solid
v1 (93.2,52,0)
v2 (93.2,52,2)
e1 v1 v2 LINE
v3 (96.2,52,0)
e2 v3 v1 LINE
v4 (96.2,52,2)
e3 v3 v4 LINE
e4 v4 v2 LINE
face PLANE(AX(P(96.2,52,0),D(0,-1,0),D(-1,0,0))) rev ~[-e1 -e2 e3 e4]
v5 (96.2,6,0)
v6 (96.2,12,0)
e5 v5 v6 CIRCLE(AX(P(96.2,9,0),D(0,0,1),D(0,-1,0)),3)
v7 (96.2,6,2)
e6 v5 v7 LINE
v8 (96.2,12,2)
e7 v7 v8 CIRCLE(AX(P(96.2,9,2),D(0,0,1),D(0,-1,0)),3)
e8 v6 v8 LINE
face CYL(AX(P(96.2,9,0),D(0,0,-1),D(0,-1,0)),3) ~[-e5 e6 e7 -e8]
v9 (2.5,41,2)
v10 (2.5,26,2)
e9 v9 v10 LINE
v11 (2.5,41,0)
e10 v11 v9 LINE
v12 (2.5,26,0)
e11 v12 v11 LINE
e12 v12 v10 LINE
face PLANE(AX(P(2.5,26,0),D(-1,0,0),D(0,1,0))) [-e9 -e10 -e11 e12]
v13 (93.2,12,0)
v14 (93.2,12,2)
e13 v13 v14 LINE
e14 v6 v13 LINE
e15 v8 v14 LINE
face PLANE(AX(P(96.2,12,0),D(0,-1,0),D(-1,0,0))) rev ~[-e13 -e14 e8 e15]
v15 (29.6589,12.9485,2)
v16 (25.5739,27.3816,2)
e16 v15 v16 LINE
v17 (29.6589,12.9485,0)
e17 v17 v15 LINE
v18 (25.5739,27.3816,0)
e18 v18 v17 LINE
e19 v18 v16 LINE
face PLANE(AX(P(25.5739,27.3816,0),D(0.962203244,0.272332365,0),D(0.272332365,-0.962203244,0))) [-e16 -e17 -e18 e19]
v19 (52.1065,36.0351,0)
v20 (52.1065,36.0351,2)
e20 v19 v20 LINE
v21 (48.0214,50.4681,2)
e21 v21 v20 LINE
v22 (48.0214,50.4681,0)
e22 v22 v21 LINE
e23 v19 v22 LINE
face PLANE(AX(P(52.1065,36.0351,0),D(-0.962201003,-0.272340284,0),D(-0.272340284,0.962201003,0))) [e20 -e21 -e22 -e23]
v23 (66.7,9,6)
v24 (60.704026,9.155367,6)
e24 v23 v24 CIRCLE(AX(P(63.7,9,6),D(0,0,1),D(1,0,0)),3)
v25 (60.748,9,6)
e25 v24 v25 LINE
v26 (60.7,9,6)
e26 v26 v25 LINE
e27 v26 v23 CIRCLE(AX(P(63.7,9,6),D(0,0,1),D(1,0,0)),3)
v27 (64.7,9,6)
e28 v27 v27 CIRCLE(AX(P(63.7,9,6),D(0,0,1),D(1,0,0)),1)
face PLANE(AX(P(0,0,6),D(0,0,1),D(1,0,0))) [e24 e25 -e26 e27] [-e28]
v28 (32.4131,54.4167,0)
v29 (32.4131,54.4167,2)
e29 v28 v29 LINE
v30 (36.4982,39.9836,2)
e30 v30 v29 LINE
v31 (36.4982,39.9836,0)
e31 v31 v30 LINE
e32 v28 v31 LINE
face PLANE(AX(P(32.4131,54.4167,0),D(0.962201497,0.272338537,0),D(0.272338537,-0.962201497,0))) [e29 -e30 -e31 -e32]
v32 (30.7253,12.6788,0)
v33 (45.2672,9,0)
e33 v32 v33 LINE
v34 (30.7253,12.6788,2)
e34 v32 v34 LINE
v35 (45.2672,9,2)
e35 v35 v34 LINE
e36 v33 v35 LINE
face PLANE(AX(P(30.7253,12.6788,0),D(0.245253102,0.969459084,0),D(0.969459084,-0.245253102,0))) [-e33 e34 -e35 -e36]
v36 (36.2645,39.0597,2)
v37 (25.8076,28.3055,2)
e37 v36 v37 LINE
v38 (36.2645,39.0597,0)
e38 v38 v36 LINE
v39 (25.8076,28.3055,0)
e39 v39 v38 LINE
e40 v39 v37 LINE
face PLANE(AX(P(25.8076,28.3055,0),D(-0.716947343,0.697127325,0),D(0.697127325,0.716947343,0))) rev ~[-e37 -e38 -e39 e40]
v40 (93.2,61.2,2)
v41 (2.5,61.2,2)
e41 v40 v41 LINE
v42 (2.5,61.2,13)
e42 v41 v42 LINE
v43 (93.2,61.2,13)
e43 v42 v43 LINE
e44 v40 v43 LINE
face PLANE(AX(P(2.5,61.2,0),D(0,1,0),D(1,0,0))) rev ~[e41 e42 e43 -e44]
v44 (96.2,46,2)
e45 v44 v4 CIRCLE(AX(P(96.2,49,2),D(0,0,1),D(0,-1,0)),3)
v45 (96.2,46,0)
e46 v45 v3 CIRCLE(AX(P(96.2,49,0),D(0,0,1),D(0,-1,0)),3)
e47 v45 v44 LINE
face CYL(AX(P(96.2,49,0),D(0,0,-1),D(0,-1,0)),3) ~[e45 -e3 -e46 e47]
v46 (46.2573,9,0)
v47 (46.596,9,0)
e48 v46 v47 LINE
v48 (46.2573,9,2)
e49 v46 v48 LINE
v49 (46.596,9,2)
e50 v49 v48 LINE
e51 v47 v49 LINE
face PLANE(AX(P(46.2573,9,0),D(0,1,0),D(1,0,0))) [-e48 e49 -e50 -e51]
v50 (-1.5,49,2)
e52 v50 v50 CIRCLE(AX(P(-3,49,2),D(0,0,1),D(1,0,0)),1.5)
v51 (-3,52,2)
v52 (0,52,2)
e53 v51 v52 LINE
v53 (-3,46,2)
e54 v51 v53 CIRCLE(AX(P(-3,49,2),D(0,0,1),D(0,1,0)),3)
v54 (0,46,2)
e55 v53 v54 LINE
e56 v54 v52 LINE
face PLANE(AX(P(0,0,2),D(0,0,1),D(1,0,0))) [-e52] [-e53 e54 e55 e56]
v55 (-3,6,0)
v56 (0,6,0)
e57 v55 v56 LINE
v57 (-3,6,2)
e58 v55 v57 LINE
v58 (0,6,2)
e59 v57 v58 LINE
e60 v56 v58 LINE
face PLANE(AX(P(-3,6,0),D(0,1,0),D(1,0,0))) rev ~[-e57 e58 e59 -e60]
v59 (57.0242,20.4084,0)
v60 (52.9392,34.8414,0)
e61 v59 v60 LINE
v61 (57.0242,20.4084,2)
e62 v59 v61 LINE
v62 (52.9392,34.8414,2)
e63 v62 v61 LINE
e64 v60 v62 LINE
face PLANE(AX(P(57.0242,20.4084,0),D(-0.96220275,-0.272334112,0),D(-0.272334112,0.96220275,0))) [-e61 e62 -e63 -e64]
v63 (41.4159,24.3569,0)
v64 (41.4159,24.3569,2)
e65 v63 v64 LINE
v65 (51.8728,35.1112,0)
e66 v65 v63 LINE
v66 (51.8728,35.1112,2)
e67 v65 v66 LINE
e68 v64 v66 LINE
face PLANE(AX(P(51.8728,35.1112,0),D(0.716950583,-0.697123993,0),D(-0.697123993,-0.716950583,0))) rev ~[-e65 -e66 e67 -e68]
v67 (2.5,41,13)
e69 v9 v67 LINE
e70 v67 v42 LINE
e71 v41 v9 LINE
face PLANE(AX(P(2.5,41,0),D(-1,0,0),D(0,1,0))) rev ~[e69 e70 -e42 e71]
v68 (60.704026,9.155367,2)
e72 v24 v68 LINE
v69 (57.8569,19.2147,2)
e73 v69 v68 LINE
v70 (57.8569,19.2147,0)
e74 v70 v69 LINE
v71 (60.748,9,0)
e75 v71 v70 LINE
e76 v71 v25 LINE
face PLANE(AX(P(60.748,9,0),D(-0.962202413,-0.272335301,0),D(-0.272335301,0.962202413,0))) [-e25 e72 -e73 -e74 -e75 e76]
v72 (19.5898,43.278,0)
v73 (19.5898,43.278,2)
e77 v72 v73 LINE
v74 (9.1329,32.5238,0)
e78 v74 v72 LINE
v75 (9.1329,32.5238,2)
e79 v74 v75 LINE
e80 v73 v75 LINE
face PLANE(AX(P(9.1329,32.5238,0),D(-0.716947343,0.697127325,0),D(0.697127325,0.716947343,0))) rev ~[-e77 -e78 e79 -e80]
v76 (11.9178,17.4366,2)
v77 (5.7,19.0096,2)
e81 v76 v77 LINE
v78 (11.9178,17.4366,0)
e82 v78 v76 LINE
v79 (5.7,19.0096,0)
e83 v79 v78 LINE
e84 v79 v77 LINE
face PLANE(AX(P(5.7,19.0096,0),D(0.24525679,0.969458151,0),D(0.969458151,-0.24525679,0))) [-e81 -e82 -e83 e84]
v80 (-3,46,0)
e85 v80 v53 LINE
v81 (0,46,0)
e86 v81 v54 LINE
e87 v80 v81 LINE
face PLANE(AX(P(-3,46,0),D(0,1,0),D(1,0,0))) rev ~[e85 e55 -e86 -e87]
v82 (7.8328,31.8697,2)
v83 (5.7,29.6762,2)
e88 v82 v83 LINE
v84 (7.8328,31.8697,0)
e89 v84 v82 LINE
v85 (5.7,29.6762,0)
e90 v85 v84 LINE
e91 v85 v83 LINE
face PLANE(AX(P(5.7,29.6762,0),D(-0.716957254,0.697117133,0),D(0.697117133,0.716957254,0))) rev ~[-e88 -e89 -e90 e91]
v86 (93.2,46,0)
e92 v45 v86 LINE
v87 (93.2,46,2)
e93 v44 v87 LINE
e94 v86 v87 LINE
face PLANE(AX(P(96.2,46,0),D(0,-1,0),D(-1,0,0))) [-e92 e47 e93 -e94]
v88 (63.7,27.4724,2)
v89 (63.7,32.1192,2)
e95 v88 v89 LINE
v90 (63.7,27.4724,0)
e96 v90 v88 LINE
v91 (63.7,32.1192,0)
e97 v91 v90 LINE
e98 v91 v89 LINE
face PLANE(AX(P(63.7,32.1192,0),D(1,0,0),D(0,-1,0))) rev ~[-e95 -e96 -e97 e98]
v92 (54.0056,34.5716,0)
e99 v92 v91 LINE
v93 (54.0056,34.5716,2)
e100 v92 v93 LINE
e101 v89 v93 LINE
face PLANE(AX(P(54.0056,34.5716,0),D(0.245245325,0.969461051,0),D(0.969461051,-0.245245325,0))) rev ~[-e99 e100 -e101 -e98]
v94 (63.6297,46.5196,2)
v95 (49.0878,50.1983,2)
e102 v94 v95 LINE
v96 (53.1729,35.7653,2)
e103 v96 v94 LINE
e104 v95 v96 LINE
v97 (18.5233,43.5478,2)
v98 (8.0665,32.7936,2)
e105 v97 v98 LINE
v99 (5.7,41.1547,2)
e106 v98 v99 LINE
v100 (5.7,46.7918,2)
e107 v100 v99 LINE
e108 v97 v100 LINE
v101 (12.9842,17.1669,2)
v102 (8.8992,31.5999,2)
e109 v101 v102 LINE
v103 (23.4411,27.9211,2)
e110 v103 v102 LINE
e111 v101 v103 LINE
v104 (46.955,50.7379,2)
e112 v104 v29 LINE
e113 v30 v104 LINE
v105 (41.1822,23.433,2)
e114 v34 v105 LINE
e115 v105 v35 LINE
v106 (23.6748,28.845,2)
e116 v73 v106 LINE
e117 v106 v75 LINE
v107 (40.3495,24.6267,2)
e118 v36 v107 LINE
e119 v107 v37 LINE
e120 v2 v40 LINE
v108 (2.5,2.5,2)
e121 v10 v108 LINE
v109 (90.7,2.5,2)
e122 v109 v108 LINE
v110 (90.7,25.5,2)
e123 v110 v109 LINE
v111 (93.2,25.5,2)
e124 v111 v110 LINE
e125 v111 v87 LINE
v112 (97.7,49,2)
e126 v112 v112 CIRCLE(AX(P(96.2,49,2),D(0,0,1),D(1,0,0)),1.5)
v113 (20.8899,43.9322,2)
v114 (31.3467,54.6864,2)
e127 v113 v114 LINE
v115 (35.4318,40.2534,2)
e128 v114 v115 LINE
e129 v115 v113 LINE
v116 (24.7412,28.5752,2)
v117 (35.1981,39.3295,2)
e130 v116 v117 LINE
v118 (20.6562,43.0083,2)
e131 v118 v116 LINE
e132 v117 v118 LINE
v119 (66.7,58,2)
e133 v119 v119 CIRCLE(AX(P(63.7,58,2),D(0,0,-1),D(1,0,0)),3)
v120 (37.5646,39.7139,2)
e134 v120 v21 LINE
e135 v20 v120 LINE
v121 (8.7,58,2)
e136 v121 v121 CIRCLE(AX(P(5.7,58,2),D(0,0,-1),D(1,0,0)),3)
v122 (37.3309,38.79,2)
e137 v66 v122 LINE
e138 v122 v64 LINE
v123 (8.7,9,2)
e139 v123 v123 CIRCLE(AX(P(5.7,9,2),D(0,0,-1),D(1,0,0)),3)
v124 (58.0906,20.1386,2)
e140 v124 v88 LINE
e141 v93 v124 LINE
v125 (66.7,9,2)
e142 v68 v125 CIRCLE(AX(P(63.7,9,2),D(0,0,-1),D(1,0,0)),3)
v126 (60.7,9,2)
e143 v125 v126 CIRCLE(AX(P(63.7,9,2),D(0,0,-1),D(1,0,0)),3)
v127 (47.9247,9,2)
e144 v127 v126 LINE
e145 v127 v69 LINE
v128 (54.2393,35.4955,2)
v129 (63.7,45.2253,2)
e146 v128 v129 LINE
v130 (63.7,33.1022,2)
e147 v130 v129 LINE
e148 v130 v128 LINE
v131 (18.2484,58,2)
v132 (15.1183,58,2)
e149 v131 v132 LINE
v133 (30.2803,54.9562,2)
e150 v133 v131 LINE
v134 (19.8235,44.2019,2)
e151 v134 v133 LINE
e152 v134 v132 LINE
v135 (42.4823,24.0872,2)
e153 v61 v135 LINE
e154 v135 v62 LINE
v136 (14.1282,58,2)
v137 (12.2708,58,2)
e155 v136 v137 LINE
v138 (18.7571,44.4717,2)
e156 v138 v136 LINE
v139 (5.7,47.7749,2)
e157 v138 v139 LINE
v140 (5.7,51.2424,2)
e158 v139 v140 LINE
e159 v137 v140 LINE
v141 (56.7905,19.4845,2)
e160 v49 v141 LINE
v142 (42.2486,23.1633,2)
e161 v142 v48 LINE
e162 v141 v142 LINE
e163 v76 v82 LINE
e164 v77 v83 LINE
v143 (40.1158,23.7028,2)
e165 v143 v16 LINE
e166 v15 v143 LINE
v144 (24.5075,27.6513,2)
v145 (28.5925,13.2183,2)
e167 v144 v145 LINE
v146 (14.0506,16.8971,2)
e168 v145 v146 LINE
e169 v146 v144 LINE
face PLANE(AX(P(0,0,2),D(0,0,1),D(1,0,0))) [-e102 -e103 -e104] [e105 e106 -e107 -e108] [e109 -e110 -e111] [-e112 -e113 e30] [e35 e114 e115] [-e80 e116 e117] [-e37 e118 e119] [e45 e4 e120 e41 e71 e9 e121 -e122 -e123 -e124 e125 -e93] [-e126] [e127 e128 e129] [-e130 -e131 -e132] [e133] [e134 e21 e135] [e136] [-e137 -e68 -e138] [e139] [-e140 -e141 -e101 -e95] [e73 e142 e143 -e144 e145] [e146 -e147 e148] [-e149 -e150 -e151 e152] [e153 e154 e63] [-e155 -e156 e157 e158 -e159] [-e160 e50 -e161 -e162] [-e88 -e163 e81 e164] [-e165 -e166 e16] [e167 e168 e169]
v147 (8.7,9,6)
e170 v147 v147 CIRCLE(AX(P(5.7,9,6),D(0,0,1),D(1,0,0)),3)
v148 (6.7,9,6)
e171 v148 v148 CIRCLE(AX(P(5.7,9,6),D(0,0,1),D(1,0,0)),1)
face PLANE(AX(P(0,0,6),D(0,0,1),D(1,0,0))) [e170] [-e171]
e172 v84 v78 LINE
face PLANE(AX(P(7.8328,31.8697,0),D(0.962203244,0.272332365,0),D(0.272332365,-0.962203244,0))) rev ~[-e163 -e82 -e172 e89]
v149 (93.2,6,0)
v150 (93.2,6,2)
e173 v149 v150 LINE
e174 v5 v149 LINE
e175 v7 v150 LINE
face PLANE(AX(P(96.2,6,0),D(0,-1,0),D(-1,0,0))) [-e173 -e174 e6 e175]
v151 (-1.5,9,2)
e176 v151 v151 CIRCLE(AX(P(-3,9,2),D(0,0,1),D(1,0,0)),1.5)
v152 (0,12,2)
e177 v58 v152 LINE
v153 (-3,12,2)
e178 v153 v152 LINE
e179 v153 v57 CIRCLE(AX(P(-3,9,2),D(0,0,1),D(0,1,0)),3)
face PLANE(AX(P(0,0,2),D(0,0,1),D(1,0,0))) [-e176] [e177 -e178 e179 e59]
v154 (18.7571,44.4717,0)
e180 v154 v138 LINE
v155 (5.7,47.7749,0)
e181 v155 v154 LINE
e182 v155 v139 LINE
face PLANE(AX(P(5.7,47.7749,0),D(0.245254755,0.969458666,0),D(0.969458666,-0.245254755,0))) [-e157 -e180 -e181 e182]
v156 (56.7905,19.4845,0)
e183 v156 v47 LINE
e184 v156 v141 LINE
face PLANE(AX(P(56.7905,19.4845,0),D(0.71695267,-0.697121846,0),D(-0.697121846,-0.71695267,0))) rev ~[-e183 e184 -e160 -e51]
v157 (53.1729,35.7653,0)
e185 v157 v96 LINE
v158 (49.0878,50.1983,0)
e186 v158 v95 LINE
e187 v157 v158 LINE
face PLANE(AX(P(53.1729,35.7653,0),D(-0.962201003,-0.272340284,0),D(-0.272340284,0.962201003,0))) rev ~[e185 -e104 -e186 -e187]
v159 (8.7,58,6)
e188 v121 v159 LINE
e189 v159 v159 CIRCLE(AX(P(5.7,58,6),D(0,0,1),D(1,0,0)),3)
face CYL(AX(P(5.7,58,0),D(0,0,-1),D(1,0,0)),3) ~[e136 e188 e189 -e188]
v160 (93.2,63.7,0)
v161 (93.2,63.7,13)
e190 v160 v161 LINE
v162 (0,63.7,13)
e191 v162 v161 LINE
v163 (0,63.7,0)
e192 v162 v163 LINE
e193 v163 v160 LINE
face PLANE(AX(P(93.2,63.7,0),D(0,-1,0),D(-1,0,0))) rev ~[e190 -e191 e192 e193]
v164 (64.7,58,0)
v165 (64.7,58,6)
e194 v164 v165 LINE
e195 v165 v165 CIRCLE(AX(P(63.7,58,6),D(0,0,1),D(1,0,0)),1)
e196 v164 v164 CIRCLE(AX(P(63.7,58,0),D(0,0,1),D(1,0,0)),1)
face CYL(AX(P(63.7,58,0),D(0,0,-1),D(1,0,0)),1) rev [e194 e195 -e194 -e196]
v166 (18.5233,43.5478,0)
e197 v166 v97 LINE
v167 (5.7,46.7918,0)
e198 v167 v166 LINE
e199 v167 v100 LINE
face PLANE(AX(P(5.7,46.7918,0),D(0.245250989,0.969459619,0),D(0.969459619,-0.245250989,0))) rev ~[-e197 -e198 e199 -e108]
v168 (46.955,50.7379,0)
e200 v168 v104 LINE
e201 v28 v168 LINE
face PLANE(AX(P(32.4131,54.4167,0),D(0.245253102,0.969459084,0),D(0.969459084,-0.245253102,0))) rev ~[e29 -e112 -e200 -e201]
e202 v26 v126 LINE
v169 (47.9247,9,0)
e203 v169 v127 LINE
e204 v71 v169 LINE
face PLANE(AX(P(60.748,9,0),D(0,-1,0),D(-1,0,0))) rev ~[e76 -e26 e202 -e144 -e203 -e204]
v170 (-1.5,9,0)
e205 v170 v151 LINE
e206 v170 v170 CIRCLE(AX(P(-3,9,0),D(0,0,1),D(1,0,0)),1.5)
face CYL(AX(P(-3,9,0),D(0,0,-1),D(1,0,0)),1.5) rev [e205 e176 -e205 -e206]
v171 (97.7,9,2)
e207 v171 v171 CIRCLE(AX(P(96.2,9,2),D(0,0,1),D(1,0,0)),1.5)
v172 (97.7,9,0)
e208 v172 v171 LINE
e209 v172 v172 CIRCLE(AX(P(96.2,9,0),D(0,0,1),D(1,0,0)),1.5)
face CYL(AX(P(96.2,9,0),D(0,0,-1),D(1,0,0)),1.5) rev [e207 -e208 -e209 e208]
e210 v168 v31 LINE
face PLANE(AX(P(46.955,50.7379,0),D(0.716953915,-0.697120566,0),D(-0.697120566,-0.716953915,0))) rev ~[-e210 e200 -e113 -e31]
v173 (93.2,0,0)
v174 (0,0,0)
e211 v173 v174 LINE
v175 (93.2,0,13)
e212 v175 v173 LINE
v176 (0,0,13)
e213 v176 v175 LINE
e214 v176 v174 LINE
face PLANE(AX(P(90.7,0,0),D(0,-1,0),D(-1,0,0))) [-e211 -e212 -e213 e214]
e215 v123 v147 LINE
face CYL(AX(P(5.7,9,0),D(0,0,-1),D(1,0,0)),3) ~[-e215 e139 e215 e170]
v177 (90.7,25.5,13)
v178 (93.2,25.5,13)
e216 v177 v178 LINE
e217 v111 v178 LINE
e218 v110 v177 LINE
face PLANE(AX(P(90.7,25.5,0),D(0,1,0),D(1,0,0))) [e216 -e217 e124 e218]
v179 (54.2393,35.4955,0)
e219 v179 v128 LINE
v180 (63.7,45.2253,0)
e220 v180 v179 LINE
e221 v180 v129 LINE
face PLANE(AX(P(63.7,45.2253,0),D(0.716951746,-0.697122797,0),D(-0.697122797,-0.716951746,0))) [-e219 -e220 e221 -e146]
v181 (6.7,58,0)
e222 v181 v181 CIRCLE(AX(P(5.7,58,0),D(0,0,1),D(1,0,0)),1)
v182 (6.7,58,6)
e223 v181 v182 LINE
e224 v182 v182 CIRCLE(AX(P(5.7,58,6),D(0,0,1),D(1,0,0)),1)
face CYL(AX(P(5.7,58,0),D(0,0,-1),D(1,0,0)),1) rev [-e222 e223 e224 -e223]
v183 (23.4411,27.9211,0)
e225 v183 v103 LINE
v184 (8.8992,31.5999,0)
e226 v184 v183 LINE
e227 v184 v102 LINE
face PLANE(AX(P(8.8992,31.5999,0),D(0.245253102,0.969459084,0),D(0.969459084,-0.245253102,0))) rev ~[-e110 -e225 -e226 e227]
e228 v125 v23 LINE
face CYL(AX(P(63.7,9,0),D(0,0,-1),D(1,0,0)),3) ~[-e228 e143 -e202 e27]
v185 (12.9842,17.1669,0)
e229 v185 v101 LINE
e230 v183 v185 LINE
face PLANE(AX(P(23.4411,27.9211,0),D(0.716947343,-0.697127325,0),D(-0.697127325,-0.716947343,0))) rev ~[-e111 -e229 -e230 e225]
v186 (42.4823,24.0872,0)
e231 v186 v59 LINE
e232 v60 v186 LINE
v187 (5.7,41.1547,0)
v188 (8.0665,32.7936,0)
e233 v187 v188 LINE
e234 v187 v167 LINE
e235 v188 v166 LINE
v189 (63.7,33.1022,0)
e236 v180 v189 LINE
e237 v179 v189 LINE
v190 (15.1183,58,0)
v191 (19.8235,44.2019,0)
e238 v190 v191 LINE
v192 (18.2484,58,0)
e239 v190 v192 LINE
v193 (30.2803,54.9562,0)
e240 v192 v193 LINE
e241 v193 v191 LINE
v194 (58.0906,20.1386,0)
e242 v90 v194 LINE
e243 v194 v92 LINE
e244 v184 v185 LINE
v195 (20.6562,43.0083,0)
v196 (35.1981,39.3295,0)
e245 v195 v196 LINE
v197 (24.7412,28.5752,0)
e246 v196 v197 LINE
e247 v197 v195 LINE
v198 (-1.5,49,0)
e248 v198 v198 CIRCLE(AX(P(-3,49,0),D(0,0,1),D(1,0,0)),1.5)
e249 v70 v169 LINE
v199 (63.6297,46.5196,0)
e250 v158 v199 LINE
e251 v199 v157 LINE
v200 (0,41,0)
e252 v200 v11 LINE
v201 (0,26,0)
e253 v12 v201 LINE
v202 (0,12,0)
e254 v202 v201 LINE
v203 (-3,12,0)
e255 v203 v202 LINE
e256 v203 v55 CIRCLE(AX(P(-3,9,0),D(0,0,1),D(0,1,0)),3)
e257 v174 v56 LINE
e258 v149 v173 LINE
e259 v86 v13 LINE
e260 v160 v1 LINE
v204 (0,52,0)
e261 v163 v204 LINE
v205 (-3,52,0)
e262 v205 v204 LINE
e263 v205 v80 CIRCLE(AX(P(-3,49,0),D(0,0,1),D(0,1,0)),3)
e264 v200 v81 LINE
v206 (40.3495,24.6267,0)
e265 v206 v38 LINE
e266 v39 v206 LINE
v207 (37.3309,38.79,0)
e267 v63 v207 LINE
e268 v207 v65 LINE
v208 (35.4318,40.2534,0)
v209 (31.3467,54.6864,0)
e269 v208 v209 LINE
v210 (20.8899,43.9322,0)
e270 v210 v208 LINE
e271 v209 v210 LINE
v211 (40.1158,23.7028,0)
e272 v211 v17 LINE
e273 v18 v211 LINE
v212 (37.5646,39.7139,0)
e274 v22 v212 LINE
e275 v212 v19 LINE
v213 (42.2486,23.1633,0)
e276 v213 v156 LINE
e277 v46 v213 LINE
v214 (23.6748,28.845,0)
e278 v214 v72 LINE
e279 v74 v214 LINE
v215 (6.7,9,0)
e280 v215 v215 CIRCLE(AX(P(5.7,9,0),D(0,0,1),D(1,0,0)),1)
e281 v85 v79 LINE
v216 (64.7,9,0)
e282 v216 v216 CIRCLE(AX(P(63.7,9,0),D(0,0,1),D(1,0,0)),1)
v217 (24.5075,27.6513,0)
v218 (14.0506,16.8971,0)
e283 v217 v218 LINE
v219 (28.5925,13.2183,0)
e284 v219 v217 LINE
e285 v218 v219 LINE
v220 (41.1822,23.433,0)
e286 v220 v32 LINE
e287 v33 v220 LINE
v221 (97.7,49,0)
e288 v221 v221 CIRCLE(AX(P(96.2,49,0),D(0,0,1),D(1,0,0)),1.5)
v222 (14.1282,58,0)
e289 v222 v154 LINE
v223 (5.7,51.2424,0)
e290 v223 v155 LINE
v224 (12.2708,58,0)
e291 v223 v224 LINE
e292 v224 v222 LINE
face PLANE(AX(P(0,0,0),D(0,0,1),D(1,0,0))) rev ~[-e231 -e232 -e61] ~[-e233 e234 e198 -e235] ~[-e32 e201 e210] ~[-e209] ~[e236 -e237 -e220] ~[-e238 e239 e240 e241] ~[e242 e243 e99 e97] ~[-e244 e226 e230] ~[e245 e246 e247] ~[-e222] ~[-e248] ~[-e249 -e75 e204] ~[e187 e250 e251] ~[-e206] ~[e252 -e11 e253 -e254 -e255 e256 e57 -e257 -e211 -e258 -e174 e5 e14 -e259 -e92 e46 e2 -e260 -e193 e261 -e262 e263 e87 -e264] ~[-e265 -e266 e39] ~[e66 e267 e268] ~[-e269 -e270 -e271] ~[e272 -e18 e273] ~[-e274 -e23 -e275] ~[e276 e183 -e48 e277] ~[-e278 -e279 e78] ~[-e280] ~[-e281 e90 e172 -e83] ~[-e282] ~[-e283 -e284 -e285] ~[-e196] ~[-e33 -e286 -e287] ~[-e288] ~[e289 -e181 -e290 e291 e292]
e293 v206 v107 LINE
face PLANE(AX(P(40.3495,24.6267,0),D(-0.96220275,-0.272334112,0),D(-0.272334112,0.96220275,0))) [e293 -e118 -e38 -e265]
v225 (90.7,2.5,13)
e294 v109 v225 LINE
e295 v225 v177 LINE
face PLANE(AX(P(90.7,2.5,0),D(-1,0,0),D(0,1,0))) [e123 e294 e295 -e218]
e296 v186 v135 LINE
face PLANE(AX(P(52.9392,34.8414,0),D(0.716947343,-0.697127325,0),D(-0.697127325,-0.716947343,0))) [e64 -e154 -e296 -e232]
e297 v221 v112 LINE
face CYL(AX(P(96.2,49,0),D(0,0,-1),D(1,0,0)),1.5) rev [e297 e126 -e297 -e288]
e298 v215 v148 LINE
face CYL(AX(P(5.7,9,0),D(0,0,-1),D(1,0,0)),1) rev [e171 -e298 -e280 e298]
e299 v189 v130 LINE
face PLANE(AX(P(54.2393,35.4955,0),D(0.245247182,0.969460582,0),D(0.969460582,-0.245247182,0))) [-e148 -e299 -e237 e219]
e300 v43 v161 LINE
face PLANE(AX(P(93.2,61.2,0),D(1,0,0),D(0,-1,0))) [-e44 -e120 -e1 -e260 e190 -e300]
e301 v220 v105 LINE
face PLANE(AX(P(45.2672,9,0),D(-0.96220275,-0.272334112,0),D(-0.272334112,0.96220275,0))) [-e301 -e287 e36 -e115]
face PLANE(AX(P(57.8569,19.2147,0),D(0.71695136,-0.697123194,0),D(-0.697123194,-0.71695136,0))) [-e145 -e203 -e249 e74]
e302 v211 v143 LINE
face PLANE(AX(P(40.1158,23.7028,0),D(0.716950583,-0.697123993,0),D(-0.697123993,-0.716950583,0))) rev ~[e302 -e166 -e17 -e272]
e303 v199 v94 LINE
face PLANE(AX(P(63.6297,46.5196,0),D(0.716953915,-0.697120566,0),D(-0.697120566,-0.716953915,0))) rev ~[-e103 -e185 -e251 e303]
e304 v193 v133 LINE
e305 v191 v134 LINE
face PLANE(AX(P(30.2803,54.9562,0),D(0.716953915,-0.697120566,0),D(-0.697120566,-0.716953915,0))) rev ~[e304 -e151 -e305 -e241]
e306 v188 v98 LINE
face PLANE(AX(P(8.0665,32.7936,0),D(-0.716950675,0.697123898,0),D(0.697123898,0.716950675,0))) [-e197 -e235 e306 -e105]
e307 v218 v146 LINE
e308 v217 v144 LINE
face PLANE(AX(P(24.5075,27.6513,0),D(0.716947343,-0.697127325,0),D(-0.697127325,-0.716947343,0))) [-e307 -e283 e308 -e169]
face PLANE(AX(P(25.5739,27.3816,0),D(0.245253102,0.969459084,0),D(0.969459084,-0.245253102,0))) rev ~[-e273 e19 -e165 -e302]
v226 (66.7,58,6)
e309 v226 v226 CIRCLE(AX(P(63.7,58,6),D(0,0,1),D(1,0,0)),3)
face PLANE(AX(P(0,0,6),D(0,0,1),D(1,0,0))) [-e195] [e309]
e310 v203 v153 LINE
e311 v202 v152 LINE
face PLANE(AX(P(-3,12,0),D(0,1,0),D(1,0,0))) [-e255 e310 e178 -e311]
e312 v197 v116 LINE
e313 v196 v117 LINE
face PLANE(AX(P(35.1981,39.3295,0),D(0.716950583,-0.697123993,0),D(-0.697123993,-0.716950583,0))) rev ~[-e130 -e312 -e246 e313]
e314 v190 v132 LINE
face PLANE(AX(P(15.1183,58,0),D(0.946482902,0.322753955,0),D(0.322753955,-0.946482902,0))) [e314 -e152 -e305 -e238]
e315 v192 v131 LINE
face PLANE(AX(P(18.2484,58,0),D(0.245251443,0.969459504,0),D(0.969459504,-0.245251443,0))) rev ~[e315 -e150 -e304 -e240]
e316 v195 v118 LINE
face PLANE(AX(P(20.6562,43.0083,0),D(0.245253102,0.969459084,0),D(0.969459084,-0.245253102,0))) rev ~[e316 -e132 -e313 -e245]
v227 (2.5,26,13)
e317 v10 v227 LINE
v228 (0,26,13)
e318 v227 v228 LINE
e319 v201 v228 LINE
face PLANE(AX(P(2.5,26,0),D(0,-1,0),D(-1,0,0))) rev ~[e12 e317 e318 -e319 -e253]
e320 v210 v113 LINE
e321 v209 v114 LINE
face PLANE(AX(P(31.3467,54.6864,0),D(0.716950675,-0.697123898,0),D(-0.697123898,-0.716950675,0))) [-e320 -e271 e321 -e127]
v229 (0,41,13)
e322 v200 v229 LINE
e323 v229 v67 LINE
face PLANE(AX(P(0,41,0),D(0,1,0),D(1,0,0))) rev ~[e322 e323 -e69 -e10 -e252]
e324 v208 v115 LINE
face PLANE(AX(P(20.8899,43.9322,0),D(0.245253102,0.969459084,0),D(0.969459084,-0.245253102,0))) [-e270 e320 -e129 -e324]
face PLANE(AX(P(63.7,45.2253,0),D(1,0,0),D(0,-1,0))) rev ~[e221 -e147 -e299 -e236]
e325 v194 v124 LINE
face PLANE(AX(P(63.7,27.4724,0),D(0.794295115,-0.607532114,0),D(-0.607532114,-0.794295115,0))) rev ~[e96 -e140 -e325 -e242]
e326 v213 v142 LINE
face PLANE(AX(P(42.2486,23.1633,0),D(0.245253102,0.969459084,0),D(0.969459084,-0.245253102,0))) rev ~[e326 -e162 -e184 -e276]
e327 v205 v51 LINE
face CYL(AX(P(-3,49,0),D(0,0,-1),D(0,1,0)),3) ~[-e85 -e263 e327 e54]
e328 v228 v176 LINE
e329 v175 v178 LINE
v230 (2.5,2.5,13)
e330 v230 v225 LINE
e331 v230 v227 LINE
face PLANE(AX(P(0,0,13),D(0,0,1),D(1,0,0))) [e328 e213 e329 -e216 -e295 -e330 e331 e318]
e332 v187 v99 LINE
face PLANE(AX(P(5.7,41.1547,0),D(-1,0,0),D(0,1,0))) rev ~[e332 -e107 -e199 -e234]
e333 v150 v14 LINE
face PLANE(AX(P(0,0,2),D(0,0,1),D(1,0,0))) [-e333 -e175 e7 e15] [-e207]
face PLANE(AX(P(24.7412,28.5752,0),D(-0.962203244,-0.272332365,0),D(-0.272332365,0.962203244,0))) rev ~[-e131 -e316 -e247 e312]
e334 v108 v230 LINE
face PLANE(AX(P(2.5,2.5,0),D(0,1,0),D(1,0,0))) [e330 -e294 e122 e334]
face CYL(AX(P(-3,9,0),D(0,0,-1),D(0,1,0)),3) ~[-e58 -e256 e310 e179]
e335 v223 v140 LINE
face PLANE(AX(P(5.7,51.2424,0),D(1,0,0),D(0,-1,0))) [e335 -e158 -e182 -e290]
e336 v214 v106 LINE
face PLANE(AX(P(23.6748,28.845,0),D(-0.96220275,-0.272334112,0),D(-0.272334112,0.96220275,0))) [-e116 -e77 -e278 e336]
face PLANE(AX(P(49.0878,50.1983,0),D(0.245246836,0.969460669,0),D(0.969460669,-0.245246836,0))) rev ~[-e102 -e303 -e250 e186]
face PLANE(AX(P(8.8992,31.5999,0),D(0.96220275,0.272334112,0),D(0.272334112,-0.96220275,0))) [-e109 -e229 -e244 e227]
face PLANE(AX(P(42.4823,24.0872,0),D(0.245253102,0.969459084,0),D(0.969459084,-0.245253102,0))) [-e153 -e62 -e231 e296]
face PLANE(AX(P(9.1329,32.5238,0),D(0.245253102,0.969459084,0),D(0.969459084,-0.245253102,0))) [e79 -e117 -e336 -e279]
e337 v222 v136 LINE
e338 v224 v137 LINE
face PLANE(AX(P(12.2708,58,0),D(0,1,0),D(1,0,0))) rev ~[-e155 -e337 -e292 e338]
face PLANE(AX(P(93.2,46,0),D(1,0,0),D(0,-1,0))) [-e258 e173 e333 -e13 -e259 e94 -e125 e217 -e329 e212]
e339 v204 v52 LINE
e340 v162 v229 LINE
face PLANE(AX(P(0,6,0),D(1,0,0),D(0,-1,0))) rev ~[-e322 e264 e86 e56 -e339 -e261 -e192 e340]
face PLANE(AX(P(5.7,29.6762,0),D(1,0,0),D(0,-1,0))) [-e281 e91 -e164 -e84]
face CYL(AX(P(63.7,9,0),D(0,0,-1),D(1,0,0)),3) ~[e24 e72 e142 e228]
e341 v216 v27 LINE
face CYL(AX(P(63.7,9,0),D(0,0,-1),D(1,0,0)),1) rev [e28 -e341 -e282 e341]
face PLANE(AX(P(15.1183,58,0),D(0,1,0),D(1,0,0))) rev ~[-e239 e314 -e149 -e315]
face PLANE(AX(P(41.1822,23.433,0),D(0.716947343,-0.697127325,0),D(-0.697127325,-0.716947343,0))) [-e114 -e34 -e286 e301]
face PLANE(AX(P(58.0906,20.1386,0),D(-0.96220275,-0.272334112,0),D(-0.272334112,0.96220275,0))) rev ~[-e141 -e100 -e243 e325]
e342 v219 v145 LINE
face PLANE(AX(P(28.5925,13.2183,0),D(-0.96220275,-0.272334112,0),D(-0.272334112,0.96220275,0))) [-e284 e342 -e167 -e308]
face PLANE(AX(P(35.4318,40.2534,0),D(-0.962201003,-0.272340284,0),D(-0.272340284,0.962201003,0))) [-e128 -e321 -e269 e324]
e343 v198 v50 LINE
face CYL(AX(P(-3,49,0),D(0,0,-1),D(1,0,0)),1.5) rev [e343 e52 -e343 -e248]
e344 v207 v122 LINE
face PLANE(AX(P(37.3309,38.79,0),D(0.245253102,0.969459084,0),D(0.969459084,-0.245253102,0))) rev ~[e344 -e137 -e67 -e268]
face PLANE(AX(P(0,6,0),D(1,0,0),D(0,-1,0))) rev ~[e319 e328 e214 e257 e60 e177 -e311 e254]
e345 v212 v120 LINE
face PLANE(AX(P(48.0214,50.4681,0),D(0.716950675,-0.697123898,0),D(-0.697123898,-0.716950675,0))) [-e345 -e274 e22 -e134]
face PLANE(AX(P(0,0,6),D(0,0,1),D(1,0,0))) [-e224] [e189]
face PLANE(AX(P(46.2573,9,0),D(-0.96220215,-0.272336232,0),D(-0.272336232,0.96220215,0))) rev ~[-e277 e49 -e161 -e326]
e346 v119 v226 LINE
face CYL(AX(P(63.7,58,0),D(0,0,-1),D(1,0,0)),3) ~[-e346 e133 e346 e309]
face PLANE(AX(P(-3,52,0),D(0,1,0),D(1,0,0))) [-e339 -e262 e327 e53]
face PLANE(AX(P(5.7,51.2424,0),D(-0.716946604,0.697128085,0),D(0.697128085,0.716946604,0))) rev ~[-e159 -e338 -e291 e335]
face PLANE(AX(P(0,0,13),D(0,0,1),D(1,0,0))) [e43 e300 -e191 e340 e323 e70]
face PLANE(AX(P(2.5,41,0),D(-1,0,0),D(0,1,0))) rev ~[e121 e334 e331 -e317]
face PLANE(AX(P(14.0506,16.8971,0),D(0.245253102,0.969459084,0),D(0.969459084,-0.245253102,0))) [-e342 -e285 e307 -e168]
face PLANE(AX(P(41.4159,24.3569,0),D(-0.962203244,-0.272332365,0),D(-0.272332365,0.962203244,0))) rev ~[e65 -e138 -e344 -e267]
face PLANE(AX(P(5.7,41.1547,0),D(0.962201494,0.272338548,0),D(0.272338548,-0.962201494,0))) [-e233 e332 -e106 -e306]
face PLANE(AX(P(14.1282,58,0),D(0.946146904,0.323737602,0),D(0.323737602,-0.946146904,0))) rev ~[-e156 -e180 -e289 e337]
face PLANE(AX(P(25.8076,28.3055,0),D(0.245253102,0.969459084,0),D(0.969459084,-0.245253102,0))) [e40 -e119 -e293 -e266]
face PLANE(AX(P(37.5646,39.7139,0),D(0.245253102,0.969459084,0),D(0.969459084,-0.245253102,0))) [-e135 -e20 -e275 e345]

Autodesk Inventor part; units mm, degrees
ref_plane "YZ Plane" through (0, 0, 0) normal (1, 0, 0) x (0, 1, 0)
ref_plane "XZ Plane" through (0, 0, 0) normal (0, 1, 0) x (-1, 0, 0)
ref_plane "XY Plane" through (0, 0, 0) normal (0, 0, 1) x (1, 0, 0)
sketch "Sketch1" plane through (0, 0, 0) normal (0, 0, 1) x (1, 0, 0)
  circle A0 centre (5.7, 58) radius 1
  circle A1 centre (63.7, 58) radius 1
  circle A2 centre (5.7, 9) radius 1
  circle A3 centre (63.7, 9) radius 1
  line L0 (5.7, 58) -> (63.7, 58) construction
  line L1 (63.7, 58) -> (63.7, 9) construction
  line L2 (63.7, 9) -> (5.7, 9) construction
  line L3 (5.7, 9) -> (5.7, 58) construction
  circle A4 centre (5.7, 58) radius 3
  circle A5 centre (63.7, 58) radius 3
  circle A6 centre (63.7, 9) radius 3
  circle A7 centre (5.7, 9) radius 3
  line L4 (2.5, 61.2) -> (93.2, 61.2)
  line L5 (93.2, 61.2) -> (93.2, 0)
  line L6 (2.5, 61.2) -> (93.2, 61.2)
  line L7 (93.2, 61.2) -> (93.2, 63.7)
  line L8 (93.2, 63.7) -> (2.5, 63.7)
  line L9 (2.5, 63.7) -> (2.5, 61.2)
  line L10 (2.5, 63.7) -> (0, 63.7)
  line L11 (0, 63.7) -> (0, 0)
  line L12 (2.5, 2.5) -> (2.5, 63.7)
  line L13 (0, 41) -> (2.5, 41)
  line L14 (2.5, 41) -> (2.5, 26)
  line L15 (2.5, 26) -> (0, 26)
  line L16 (0, 26) -> (0, 41)
  line L17 (5.7, 33.5) -> (0, 33.5) construction
  line L18 (2.5, 2.5) -> (90.7, 2.5)
  line L19 (93.2, -3.283) -> (93.2, 0)
  line L20 (93.2, 0) -> (0, 0)
  line L21 (2.5, 2.5) -> (2.5, 61.2)
  line L22 (93.2, 0) -> (62.7076, 0)
  line L23 (90.7, 2.5) -> (90.7, 25.5)
  line L24 (90.7, 25.5) -> (93.2, 25.5)
  line L25 (93.2, 25.5) -> (93.2, 0)
  line L26 (0, 49) -> (-3, 49) construction
  circle A8 centre (-3, 49) radius 1.5
  arc A9 (-3, 52) -> (-3, 46) centre (-3, 49) ccw
  line L27 (-3, 52) -> (-3, 46) construction
  line L28 (-3, 52) -> (0, 52)
  line L29 (-3, 46) -> (0, 46)
  line L30 (93.2, 49) -> (96.2, 49) construction
  circle A10 centre (96.2, 49) radius 1.5
  arc A11 (96.2, 46) -> (96.2, 52) centre (96.2, 49) ccw
  line L31 (96.2, 52) -> (96.2, 46) construction
  line L32 (96.2, 52) -> (93.2, 52)
  line L33 (96.2, 46) -> (93.2, 46)
  line L34 (0, 9) -> (-3, 9) construction
  circle A12 centre (-3, 9) radius 1.5
  arc A13 (-3, 12) -> (-3, 6) centre (-3, 9) ccw
  line L35 (-3, 12) -> (-3, 6) construction
  line L36 (-3, 12) -> (0, 12)
  line L37 (-3, 6) -> (0, 6)
  line L38 (93.2, 9) -> (96.2, 9) construction
  circle A14 centre (96.2, 9) radius 1.5
  arc A15 (96.2, 6) -> (96.2, 12) centre (96.2, 9) ccw
  line L39 (96.2, 6) -> (96.2, 12) construction
  line L40 (96.2, 12) -> (93.2, 12)
  line L41 (96.2, 6) -> (93.2, 6)
  line L42 (0, 41) -> (2.5, 41)
  line L43 (2.5, 41) -> (2.5, 63.7)
  line L44 (2.5, 63.7) -> (0, 63.7)
  line L45 (0, 63.7) -> (0, 41)
  line L46 (93.2, 0) -> (0, 0)
  line L47 (0, 0) -> (0, 2.5)
  line L48 (0, 2.5) -> (93.2, 2.5)
  line L49 (93.2, 2.5) -> (93.2, 0)
  line L50 (0, 0) -> (2.5, 0)
  line L51 (2.5, 0) -> (2.5, 26)
  line L52 (2.5, 26) -> (0, 26)
  line L53 (0, 26) -> (0, 0)
  line L54 (93.2, 25.5) -> (90.7, 25.5)
  line L55 (90.7, 25.5) -> (90.7, 0)
  line L56 (90.7, 0) -> (93.2, 0)
  line L57 (93.2, 0) -> (93.2, 25.5)
  line L58 (0, 41) -> (2.5, 41)
  line L59 (2.5, 41) -> (2.5, 63.7)
  line L60 (2.5, 63.7) -> (0, 63.7)
  line L61 (0, 63.7) -> (0, 41)
  line L62 (2.5, 41) -> (0, 41)
  line L63 (0, 41) -> (0, 26)
  line L64 (0, 26) -> (2.5, 26)
  line L65 (2.5, 26) -> (2.5, 41)
  dimension "d0" = 2
  dimension "d1" = 2
  dimension "d2" = 58
  dimension "d3" = 2
  dimension "d4" = 2
  dimension "d5" = 49
  dimension "d6" = 6
  dimension "d7" = 6
  dimension "d8" = 6
  dimension "d9" = 6
  dimension "d10" = 3.2
  dimension "d11" = 2.5
  dimension "d14" = 15
  dimension "d17" = 6.5
  dimension "d18" = 2.5
  dimension "d19" = 29.5
  dimension "d20" = 3.2
  dimension "d21" = 2.5
  dimension "d22" = 16.5
  dimension "d23" = 3
  dimension "d24" = 3
  dimension "d25" = 6
  dimension "d26" = 3
  dimension "d27" = 3
  dimension "d28" = 6
  dimension "d29" = 9
  dimension "d30" = 3
  dimension "d31" = 6
  dimension "d32" = 3
  dimension "d33" = 3
  dimension "d34" = 6
  dimension "d35" = 2.5
  dimension "d36" = 3
  dimension "d41" = 2.5
  dimension "d42" = 2.5
extrude "Extrusion1" add sketch "Sketch1" along normal blind 2 contours A4 | A5 | A6 | A7 | L9 L8 L7 L4 | L12 L13 L11 L10 L9 | L4 L5 L24 L23 L18 L12 | L12 L15 L11 L13 | L32 A11 L33 L5 | L12 L48 L11 L15 | L11 L29 A9 L28 | L51 L20 L11 L48 | L18 L55 L20 L51 | L5 L48 L23 L24 | L48 L5 L20 L55 | L11 L37 A13 L36 | L40 A15 L41 L5
extrude "Extrusion2" add sketch "Sketch1" along normal blind 6 contours A4 | A5 | A6 | A7
extrude "Extrusion3" add sketch "Sketch1" along normal blind 13 contours L9 L8 L7 L4 | L12 L13 L11 L10 L9 | L12 L15 L11 L13 | L12 L48 L11 L15 | L51 L20 L11 L48 | L18 L55 L20 L51 | L5 L48 L23 L24 | L48 L5 L20 L55
extrude "Extrusion4" cut sketch "Sketch1" along normal blind 13 contours L12 L15 L11 L13
sketch "Sketch2" plane through (0, 0, 0) normal (0, 0, 1) x (1, 0, 0)
  line L0 (5.7, 47.7749) -> (51.6652, 36.1467) construction
  line L1 (5.7, 47.7749) -> (18.7571, 44.4717)
  line L2 (5.7, 51.2424) -> (12.2708, 58)
  line L3 (14.1282, 58) -> (18.7571, 44.4717)
  line L4 (20.8899, 43.9322) -> (35.4318, 40.2534)
  line L5 (35.4318, 40.2534) -> (31.3467, 54.6864)
  line L6 (31.3467, 54.6864) -> (20.8899, 43.9322)
  line L7 (37.5646, 39.7139) -> (52.1065, 36.0351)
  line L8 (52.1065, 36.0351) -> (48.0214, 50.4681)
  line L9 (48.0214, 50.4681) -> (37.5646, 39.7139)
  line L10 (54.2393, 35.4955) -> (63.7, 33.1022)
  line L11 (63.7, 45.2253) -> (54.2393, 35.4955)
  line L12 (18.2484, 58) -> (63.7, 46.5018) construction
  line L13 (18.2484, 58) -> (30.2803, 54.9562)
  line L14 (30.2803, 54.9562) -> (19.8235, 44.2019)
  line L15 (15.1183, 58) -> (19.8235, 44.2019)
  line L16 (32.4131, 54.4167) -> (46.955, 50.7379)
  line L17 (46.955, 50.7379) -> (36.4982, 39.9836)
  line L18 (32.4131, 54.4167) -> (36.4982, 39.9836)
  line L19 (49.0878, 50.1983) -> (63.6297, 46.5196)
  line L20 (63.6297, 46.5196) -> (53.1729, 35.7653)
  line L21 (53.1729, 35.7653) -> (49.0878, 50.1983)
  line L22 (5.7, 47.2833) -> (63.7, 32.6107) construction
  line L23 (5.7, 46.7918) -> (51.4315, 35.2228) construction
  line L24 (5.7, 46.7918) -> (18.5233, 43.5478)
  line L25 (5.7, 41.1547) -> (8.0665, 32.7936)
  line L26 (8.0665, 32.7936) -> (18.5233, 43.5478)
  line L27 (20.6562, 43.0083) -> (35.1981, 39.3295)
  line L28 (35.1981, 39.3295) -> (24.7412, 28.5752)
  line L29 (24.7412, 28.5752) -> (20.6562, 43.0083)
  line L30 (37.3309, 38.79) -> (51.8728, 35.1112)
  line L31 (51.8728, 35.1112) -> (41.4159, 24.3569)
  line L32 (41.4159, 24.3569) -> (37.3309, 38.79)
  line L33 (54.0056, 34.5716) -> (63.7, 32.1192)
  line L34 (63.7, 27.4724) -> (58.0906, 20.1386)
  line L35 (58.0906, 20.1386) -> (54.0056, 34.5716)
  line L36 (8.0665, 32.7936) -> (58.0906, 20.1386) construction
  line L37 (9.1329, 32.5238) -> (23.6748, 28.845)
  line L38 (23.6748, 28.845) -> (19.5898, 43.278)
  line L39 (9.1329, 32.5238) -> (19.5898, 43.278)
  line L40 (25.8076, 28.3055) -> (40.3495, 24.6267)
  line L41 (40.3495, 24.6267) -> (36.2645, 39.0597)
  line L42 (25.8076, 28.3055) -> (36.2645, 39.0597)
  line L43 (42.4823, 24.0872) -> (57.0242, 20.4084)
  line L44 (57.0242, 20.4084) -> (52.9392, 34.8414)
  line L45 (52.9392, 34.8414) -> (42.4823, 24.0872)
  line L46 (63.7, 18.2281) -> (5.7, 32.9007) construction
  line L47 (24.5075, 27.6513) -> (14.0506, 16.8971)
  line L48 (23.4411, 27.9211) -> (12.9842, 17.1669)
  line L49 (8.8992, 31.5999) -> (23.4411, 27.9211)
  line L50 (7.8328, 31.8697) -> (11.9178, 17.4366)
  line L51 (28.5925, 13.2183) -> (24.5075, 27.6513)
  line L52 (14.0506, 16.8971) -> (28.5925, 13.2183)
  line L53 (25.5739, 27.3816) -> (29.6589, 12.9485)
  line L54 (7.8328, 31.8697) -> (57.8569, 19.2147) construction
  line L55 (25.5739, 27.3816) -> (40.1158, 23.7028)
  line L56 (40.1158, 23.7028) -> (29.6589, 12.9485)
  line L57 (8.8992, 31.5999) -> (12.9842, 17.1669)
  line L58 (5.7, 29.6762) -> (7.8328, 31.8697)
  line L59 (5.7, 19.0096) -> (11.9178, 17.4366)
  line L60 (30.7253, 12.6788) -> (45.2672, 9)
  line L61 (46.2573, 9) -> (42.2486, 23.1633)
  line L62 (42.2486, 23.1633) -> (56.7905, 19.4845)
  line L63 (56.7905, 19.4845) -> (46.596, 9)
  line L64 (57.8569, 19.2147) -> (47.9247, 9)
  line L65 (60.748, 9) -> (57.8569, 19.2147)
  line L66 (41.1822, 23.433) -> (30.7253, 12.6788)
  line L67 (5.7, 58) -> (63.7, 58) construction
  line L68 (5.7, 9) -> (5.7, 58) construction
  line L69 (63.7, 9) -> (5.7, 9) construction
  line L70 (63.7, 58) -> (63.7, 9) construction
  line L71 (5.7, 29.6762) -> (5.7, 19.0096)
  line L72 (46.2573, 9) -> (46.596, 9)
  line L73 (60.748, 9) -> (47.9247, 9)
  line L74 (63.7, 32.1192) -> (63.7, 27.4724)
  line L75 (63.7, 45.2253) -> (63.7, 33.1022)
  line L76 (15.1183, 58) -> (18.2484, 58)
  line L77 (12.2708, 58) -> (14.1282, 58)
  line L78 (5.7, 41.1547) -> (5.7, 46.7918)
  line L79 (5.7, 51.2424) -> (5.7, 47.7749)
  line L80 (45.2672, 9) -> (41.1822, 23.433)
  point P0 (0, 0)
  point P1 (45.2672, 9)
  dimension "d62" = 15
  dimension "d63" = 15
  dimension "d64" = 15
  dimension "i_v" = 2.2
  dimension "d66" = 15
  dimension "d67" = 15
  dimension "d68" = 15
  dimension "d69" = 2.2
  dimension "d73" = 2.2
  dimension "d75" = 15
  dimension "d76" = 1.1
  dimension "d77" = 15
  dimension "d78" = 1.1
  dimension "d79" = 15
  dimension "d81" = 15
  dimension "d82" = 15
  dimension "d83" = 15
  dimension "d84" = 1.1
  dimension "d85" = 0.953
  dimension "d86" = 60
  dimension "d87" = 0.953
  dimension "d88" = 15
  dimension "d90" = 60
  dimension "d91" = 60
  dimension "d92" = 60
  dimension "d93" = 1.1
  dimension "d94" = 60
  dimension "d95" = 60
  dimension "d96" = 1.1
  dimension "d97" = 60
extrude "Extrusion5" cut sketch "Sketch2" along normal blind 13
properties part number "Deck"
